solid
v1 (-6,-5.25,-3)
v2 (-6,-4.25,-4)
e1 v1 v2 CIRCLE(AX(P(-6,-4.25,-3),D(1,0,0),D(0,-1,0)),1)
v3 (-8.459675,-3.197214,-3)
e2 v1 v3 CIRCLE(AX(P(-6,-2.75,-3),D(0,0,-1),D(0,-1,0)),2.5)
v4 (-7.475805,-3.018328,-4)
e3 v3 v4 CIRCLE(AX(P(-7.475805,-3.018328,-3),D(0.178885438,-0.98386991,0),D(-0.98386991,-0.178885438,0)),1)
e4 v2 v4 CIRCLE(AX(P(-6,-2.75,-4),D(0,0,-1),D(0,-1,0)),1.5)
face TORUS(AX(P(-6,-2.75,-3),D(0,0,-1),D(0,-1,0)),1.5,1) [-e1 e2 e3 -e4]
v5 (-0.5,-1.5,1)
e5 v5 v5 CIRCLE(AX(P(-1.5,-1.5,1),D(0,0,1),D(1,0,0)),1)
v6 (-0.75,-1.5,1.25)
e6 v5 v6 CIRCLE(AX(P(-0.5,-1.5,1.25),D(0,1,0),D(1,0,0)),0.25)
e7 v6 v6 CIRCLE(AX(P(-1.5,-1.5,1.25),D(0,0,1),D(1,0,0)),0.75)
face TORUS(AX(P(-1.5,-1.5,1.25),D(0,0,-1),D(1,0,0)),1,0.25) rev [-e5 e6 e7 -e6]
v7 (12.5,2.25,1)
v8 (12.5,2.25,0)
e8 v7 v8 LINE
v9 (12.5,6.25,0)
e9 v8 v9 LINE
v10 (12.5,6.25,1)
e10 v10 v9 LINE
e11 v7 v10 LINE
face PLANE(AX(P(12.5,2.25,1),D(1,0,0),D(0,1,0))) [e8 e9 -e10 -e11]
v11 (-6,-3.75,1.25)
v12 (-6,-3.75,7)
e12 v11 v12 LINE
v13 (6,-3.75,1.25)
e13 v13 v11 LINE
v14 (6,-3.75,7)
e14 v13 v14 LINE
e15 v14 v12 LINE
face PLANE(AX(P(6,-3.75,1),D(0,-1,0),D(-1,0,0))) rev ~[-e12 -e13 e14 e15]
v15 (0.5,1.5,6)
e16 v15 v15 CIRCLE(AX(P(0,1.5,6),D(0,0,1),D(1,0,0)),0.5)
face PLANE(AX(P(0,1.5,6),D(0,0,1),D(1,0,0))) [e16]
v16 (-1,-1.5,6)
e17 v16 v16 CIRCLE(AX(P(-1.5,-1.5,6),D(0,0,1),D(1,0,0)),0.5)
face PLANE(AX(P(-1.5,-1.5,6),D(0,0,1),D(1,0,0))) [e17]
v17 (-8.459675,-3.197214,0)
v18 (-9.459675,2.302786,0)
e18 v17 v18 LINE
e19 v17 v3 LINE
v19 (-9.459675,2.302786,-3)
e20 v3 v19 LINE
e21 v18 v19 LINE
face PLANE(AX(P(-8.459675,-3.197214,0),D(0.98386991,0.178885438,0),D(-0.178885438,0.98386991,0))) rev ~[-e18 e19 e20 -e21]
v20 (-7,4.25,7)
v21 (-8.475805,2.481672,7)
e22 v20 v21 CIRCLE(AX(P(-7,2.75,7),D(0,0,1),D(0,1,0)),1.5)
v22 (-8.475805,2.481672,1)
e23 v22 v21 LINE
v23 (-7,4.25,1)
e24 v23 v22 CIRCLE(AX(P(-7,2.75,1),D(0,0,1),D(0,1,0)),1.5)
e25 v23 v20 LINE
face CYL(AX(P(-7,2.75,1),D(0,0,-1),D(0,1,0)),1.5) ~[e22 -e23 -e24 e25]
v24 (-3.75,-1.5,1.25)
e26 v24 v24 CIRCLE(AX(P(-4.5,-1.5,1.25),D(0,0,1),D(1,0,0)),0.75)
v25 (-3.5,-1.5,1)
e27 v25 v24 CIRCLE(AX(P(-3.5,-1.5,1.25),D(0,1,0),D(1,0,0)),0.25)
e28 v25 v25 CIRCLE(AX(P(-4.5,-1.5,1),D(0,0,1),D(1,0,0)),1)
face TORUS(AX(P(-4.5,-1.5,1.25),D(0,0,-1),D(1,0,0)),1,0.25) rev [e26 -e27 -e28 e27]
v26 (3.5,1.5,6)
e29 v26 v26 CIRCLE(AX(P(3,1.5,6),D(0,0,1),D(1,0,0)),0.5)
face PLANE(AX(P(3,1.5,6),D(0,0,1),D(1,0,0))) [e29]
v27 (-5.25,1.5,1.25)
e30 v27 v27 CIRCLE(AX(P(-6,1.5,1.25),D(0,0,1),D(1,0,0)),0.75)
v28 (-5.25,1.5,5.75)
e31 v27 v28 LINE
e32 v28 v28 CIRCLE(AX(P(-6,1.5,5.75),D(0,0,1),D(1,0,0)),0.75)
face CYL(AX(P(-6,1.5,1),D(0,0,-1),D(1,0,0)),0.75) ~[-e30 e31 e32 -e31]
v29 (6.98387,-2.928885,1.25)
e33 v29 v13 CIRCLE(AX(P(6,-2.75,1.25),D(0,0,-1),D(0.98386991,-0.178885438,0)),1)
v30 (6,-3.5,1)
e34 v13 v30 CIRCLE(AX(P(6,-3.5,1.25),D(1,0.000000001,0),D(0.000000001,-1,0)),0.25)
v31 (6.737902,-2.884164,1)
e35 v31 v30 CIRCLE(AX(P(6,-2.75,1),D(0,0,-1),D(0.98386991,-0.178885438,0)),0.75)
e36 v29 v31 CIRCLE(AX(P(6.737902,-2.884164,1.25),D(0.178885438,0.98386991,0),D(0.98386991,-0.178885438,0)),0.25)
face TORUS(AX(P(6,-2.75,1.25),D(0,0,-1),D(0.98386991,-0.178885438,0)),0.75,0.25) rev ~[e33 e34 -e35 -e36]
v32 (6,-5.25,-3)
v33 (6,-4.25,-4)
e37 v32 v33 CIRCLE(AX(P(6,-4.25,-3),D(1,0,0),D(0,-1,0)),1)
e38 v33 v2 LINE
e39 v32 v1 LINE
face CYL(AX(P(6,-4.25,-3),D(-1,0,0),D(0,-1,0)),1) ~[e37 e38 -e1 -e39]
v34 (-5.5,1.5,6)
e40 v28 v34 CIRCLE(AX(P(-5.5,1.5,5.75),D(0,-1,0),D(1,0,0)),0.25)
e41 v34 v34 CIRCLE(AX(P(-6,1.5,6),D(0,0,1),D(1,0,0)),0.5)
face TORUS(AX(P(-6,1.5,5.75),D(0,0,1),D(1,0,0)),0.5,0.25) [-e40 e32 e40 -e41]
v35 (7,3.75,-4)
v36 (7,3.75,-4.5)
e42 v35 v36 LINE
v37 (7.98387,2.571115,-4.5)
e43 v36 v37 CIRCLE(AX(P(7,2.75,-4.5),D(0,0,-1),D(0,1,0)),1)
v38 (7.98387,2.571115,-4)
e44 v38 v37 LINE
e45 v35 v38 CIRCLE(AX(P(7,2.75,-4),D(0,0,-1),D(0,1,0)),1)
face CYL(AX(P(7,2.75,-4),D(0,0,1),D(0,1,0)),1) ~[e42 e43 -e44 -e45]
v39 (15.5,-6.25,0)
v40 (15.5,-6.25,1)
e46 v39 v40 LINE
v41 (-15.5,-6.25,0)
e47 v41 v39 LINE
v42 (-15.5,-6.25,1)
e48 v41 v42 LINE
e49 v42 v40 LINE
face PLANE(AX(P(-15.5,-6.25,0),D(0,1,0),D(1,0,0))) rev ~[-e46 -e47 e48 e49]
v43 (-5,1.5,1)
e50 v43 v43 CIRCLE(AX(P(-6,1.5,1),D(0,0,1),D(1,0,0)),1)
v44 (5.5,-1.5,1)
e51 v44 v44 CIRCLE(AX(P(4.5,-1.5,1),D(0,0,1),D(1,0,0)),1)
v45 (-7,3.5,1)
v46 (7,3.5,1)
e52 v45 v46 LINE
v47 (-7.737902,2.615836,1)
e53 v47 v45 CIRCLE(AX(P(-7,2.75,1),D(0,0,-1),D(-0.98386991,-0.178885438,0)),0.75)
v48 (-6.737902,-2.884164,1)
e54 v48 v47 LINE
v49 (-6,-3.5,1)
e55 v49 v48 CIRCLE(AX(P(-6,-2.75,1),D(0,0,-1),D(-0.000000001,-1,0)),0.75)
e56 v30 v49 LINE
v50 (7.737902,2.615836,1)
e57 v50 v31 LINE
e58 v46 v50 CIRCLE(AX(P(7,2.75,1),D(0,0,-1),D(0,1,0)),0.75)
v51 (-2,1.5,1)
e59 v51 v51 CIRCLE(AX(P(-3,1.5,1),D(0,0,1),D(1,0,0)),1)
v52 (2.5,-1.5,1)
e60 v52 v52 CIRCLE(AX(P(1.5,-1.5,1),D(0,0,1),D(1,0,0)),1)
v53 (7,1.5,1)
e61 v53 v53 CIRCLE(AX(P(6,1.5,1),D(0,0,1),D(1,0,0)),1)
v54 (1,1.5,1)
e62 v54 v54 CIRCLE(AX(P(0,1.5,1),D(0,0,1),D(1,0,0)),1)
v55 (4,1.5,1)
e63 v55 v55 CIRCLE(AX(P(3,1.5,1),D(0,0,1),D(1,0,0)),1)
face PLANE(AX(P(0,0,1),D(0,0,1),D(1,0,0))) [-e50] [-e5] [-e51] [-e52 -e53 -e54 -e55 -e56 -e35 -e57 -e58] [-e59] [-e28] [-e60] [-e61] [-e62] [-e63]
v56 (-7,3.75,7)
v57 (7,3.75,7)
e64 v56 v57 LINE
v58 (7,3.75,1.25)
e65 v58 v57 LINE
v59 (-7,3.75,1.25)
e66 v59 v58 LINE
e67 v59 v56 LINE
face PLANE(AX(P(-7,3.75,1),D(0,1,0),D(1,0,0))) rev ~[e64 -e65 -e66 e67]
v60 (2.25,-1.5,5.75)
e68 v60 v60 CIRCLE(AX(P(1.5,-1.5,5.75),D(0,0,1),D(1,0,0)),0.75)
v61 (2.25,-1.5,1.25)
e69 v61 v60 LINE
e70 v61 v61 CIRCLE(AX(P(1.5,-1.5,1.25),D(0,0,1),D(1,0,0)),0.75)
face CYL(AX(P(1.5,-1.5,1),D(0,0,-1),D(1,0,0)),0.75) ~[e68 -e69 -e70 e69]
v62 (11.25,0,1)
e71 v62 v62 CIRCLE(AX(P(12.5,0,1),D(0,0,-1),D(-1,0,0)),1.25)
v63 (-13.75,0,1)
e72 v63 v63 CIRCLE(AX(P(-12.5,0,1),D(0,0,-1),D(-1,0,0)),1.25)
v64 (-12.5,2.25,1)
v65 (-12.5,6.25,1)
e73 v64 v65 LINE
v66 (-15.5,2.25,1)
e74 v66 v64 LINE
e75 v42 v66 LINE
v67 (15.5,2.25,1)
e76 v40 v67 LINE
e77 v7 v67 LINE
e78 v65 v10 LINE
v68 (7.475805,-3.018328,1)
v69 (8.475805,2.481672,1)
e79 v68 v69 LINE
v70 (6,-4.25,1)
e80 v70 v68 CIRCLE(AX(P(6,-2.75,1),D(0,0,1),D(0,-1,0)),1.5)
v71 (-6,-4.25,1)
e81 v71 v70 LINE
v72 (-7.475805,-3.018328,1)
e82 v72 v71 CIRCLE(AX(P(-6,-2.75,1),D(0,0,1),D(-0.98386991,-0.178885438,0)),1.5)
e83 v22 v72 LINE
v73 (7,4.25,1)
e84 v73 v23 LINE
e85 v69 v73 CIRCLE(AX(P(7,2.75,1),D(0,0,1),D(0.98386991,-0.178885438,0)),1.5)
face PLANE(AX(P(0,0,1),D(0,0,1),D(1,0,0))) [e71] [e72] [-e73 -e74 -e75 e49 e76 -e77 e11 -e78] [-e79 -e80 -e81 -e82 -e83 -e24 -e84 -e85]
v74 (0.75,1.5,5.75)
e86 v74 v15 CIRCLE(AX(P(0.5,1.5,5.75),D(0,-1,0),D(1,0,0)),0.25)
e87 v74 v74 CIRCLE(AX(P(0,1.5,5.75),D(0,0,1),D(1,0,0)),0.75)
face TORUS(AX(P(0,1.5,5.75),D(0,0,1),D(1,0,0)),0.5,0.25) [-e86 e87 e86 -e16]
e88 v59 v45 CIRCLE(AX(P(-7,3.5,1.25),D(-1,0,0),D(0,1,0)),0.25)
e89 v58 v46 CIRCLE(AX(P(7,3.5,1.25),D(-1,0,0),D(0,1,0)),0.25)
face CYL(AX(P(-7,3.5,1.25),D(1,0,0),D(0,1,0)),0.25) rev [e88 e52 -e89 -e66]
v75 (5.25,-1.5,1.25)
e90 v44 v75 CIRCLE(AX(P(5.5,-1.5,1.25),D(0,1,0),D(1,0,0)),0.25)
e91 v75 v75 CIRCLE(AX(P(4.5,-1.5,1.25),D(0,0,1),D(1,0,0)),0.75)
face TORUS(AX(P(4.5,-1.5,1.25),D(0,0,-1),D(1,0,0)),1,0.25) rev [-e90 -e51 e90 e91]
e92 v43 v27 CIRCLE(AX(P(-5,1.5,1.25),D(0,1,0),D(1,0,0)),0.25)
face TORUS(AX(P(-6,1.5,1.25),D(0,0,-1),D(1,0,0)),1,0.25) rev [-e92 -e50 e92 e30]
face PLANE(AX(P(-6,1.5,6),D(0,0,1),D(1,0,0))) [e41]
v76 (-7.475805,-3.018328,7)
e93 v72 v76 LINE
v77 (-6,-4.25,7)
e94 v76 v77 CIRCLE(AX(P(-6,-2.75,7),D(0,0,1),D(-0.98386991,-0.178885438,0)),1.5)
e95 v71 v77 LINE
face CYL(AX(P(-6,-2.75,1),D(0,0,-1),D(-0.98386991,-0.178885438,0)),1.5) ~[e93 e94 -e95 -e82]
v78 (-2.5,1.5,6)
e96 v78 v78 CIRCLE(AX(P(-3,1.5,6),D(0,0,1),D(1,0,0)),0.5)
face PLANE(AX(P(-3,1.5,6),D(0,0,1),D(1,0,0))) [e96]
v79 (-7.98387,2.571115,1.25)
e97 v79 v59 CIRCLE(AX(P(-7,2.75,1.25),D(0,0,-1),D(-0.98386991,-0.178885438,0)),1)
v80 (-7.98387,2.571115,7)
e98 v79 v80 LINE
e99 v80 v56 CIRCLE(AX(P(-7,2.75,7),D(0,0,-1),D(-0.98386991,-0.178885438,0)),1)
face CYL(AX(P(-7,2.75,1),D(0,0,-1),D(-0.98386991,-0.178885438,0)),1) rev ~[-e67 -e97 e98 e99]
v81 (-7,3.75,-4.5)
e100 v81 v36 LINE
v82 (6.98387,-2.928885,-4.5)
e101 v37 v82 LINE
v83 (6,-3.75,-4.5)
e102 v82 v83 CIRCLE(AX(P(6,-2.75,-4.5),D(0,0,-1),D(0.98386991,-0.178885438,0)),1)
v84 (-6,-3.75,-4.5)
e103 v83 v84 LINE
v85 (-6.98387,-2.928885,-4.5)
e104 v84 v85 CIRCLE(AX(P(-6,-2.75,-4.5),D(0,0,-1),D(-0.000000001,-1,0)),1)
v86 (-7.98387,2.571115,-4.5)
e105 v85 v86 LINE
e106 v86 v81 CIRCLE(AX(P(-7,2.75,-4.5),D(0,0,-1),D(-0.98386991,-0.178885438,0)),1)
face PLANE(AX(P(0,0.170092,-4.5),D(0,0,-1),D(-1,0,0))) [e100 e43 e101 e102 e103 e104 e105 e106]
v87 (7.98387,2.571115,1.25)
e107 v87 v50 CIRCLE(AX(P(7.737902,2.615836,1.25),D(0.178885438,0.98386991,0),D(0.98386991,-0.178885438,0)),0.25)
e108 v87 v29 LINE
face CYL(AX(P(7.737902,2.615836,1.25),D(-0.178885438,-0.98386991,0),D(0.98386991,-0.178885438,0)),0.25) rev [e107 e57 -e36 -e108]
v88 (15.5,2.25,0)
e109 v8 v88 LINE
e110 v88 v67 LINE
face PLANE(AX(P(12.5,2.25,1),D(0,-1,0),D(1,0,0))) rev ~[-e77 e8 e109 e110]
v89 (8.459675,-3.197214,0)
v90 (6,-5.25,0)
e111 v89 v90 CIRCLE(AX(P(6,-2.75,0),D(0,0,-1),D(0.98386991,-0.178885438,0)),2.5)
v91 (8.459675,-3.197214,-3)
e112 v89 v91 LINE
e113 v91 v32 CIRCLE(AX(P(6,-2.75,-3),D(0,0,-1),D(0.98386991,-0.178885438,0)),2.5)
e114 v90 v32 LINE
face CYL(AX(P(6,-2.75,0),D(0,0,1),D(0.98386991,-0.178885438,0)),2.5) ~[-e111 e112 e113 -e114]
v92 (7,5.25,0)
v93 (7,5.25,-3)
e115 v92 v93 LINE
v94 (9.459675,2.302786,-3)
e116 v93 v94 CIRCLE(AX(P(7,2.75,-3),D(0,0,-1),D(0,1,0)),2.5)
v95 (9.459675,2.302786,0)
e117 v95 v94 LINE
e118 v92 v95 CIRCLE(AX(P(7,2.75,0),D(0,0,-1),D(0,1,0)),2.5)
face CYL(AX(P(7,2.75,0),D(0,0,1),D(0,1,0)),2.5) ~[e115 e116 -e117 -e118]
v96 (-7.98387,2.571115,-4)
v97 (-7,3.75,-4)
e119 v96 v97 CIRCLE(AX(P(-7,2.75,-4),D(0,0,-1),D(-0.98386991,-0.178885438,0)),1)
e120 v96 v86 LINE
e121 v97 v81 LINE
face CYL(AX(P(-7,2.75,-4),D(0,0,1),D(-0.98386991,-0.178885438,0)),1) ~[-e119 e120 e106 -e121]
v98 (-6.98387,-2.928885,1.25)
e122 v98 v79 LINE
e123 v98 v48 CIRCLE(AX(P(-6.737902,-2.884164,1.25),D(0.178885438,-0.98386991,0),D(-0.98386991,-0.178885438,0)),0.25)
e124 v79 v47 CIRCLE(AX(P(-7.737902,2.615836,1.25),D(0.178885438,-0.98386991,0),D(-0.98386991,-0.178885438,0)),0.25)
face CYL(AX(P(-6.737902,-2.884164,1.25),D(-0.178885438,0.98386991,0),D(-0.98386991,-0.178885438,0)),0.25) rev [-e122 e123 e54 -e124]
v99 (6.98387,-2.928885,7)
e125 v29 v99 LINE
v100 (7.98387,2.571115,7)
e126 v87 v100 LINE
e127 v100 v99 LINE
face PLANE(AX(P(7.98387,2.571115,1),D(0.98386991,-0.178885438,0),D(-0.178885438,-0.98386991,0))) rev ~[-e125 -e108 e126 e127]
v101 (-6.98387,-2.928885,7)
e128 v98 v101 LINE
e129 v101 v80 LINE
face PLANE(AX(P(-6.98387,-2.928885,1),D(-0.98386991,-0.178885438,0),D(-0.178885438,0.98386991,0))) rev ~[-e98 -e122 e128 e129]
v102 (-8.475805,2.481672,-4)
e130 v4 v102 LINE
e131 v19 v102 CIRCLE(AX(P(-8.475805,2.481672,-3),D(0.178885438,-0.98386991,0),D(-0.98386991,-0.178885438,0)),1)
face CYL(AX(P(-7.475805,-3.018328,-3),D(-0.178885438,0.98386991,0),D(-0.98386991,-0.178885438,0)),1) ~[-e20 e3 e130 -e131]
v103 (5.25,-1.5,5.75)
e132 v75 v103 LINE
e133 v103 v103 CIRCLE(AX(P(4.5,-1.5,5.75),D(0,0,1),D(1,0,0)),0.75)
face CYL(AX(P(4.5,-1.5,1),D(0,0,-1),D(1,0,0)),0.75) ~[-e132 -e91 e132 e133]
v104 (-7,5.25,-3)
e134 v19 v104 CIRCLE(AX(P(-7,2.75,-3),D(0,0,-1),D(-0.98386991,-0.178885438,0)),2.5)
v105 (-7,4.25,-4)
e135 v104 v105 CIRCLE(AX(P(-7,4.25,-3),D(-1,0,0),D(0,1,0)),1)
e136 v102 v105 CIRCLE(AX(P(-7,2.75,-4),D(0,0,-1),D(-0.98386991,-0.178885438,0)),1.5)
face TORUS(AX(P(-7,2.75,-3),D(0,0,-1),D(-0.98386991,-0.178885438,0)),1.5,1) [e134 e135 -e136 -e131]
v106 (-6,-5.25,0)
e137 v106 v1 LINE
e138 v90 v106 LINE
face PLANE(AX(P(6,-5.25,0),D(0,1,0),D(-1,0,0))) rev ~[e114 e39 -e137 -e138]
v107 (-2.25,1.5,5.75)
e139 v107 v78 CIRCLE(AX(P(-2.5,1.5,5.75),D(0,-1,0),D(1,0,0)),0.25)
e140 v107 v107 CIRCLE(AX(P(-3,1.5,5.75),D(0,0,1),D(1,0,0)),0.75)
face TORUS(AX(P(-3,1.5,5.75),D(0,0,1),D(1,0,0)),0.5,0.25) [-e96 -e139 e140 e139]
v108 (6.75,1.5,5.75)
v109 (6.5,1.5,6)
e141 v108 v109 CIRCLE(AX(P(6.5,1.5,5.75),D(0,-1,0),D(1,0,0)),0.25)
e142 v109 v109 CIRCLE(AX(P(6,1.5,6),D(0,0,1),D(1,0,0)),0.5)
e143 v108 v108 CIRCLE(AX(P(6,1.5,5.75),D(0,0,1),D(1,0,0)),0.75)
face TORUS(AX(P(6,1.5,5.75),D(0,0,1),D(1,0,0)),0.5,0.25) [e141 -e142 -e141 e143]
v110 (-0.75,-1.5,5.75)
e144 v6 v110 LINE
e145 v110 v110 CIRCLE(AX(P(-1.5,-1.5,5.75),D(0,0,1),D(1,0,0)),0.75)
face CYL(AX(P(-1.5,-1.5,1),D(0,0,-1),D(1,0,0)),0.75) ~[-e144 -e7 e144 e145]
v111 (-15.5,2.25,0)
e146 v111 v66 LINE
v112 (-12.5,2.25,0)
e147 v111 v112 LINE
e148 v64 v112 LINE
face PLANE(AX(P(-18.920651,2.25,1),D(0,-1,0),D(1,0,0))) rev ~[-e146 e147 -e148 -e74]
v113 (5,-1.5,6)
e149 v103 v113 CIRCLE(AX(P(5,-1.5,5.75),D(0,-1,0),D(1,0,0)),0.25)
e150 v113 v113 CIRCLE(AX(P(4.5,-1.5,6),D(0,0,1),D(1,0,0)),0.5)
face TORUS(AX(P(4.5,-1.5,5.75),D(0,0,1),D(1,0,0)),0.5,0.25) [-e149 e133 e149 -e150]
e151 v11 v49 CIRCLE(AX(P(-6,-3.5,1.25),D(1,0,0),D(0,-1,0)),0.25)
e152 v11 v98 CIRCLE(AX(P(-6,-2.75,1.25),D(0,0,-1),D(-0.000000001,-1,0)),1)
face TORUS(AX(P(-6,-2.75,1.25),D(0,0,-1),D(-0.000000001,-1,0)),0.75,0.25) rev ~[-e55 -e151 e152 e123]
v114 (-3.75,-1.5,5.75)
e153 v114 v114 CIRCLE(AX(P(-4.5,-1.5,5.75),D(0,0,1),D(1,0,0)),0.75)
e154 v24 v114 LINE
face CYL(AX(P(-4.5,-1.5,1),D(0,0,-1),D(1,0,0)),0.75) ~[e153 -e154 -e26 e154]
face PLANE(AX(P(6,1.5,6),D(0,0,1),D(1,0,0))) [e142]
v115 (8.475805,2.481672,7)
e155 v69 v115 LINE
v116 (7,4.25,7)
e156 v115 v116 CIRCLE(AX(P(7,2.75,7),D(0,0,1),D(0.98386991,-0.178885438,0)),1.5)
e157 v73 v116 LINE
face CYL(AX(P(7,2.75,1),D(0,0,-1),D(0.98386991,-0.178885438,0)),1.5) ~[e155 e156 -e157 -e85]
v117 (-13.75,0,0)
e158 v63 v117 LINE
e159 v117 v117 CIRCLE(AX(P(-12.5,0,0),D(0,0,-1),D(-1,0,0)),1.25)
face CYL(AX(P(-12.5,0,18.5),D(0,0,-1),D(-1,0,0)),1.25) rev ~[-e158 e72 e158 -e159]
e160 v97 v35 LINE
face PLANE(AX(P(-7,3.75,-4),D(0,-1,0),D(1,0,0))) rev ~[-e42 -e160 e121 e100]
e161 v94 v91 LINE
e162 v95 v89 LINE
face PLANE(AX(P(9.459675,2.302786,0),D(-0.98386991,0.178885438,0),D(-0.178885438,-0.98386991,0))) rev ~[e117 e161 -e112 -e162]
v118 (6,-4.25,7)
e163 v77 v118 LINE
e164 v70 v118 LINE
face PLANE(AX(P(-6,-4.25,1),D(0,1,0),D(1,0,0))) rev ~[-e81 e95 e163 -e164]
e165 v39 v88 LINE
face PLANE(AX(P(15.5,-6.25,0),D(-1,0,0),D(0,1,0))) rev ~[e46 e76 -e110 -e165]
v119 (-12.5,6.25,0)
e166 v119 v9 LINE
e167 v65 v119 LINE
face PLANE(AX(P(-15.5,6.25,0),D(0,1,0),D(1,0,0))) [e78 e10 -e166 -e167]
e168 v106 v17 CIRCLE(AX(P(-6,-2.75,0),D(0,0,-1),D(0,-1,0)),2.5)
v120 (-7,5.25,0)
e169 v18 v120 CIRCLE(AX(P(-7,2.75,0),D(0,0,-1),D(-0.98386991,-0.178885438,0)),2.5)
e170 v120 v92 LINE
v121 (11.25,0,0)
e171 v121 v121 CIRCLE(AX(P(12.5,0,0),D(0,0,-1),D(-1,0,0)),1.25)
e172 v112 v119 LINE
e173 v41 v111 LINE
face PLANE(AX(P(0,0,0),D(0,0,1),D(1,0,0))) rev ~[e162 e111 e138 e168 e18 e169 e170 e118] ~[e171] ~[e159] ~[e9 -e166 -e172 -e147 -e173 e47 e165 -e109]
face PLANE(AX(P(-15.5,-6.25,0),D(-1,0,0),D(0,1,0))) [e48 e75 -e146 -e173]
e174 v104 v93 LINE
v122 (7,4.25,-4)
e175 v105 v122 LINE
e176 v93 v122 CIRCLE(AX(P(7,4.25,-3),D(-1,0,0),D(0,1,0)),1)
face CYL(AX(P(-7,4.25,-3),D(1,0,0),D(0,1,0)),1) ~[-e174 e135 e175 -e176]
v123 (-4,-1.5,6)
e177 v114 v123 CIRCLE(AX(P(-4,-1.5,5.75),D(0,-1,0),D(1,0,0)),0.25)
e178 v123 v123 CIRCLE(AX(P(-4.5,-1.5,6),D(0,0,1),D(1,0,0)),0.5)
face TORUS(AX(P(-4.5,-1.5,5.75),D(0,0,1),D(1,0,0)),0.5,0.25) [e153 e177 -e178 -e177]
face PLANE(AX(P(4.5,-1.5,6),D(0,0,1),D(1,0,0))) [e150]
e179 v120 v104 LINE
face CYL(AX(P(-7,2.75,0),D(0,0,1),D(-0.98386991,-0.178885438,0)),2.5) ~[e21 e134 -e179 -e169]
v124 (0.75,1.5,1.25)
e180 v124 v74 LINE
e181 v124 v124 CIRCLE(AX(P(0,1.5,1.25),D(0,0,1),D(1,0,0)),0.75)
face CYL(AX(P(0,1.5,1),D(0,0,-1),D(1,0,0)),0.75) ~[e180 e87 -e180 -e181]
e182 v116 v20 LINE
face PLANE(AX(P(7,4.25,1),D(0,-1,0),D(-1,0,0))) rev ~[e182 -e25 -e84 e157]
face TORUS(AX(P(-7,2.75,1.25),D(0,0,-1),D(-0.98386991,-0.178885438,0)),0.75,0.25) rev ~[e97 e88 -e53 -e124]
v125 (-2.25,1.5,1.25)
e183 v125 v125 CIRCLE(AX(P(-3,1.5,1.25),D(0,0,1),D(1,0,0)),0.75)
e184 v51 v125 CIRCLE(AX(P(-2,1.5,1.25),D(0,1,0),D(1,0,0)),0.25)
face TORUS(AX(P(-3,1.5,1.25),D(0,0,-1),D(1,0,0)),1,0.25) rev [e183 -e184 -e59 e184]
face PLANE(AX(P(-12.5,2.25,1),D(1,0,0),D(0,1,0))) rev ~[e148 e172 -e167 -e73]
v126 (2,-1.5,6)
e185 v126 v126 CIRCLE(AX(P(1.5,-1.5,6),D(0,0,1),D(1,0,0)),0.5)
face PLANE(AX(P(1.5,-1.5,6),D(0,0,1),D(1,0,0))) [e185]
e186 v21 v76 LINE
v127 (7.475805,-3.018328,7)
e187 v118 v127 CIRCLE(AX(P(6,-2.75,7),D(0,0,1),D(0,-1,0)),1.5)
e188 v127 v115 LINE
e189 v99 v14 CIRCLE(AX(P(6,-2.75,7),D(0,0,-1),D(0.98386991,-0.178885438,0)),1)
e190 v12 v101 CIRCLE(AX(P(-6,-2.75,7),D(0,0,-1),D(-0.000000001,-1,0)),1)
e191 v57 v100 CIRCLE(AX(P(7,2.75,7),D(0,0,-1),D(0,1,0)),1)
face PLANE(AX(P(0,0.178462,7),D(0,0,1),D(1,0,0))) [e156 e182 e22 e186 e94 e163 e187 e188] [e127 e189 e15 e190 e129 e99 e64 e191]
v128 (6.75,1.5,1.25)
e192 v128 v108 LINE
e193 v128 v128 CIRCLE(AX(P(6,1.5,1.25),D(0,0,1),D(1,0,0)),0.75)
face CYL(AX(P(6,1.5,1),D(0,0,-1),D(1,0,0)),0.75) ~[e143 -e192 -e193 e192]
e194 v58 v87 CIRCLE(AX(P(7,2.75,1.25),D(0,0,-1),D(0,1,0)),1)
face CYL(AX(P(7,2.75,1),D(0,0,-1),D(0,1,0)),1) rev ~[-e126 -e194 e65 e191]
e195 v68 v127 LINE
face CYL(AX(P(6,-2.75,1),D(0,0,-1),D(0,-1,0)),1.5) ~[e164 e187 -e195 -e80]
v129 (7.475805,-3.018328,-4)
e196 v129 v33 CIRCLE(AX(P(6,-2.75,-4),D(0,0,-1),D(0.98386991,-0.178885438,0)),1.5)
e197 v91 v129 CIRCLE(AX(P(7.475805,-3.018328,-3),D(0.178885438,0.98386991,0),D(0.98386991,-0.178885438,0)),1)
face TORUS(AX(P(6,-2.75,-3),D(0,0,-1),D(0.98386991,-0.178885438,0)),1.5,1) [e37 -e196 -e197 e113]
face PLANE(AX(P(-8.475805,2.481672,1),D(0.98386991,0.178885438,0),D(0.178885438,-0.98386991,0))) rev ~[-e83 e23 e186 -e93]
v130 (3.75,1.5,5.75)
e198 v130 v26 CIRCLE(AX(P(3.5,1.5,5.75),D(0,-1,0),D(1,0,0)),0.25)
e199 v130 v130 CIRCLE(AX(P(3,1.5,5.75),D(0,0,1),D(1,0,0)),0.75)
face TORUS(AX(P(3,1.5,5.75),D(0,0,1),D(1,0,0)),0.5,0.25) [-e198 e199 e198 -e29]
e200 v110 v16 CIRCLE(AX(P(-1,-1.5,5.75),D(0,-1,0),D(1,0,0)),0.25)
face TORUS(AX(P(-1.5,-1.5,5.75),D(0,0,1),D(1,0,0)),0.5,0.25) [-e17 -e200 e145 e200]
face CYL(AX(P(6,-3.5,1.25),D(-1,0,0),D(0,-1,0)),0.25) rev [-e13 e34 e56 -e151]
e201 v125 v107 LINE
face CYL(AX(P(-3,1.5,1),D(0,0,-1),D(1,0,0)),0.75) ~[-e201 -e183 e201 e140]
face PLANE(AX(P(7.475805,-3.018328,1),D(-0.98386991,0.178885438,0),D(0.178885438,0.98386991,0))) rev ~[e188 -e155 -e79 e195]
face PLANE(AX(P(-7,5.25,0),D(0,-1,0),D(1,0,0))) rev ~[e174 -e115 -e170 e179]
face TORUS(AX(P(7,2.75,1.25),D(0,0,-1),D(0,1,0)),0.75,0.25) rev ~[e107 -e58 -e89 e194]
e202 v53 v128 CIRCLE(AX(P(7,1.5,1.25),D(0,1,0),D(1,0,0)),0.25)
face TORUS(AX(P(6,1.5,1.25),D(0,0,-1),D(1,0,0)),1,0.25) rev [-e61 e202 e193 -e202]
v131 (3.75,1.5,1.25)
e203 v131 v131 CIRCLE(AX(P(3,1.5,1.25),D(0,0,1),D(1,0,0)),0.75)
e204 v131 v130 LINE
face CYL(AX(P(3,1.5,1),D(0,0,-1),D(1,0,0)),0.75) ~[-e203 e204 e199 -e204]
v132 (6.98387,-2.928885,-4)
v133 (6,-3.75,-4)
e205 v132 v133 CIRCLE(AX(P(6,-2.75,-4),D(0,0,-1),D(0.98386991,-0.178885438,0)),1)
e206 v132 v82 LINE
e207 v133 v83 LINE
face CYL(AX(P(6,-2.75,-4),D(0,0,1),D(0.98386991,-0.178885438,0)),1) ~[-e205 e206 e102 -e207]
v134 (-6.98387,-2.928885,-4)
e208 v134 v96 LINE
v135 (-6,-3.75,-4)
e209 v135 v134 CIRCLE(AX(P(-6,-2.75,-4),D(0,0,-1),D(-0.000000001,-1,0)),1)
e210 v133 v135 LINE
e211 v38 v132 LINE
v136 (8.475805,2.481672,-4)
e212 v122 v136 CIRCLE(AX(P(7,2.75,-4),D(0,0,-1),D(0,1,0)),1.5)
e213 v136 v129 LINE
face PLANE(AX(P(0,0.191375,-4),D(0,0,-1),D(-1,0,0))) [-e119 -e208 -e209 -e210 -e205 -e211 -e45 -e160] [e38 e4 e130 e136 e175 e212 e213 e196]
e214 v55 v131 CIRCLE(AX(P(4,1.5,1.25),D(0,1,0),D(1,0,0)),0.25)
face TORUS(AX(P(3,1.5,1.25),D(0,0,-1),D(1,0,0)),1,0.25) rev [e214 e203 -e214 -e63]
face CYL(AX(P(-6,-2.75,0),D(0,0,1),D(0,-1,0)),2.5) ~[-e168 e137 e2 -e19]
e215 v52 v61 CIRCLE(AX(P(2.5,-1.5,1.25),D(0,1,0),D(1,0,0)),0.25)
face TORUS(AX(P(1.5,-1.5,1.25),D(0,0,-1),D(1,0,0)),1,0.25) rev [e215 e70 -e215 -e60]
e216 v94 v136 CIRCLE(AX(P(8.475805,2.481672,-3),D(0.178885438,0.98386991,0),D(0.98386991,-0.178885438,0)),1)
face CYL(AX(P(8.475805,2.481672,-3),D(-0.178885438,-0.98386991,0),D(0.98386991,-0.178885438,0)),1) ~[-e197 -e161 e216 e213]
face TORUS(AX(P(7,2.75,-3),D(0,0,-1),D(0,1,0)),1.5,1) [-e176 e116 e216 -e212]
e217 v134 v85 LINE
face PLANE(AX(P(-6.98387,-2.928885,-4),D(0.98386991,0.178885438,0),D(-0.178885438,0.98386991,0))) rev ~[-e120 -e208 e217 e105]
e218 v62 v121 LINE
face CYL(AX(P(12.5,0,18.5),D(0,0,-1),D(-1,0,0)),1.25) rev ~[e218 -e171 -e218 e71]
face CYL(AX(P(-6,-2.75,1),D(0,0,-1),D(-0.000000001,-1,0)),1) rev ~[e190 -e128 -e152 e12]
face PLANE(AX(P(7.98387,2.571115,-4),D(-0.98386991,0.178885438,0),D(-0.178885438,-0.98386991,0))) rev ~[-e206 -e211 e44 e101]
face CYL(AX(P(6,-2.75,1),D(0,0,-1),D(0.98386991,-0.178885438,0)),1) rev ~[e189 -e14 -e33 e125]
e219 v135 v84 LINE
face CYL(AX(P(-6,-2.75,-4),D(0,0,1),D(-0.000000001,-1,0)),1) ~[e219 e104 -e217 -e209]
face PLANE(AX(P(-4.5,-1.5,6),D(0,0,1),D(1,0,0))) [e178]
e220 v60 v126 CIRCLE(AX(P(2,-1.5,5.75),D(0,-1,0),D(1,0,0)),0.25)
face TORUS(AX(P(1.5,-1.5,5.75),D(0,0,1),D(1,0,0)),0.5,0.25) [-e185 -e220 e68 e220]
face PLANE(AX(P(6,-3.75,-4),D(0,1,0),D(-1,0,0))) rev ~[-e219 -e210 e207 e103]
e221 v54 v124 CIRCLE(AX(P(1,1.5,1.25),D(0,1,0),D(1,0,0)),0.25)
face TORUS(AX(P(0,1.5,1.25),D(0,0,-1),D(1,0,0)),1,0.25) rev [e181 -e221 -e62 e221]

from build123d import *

# Parameters (mm, degrees)
SKETCH1_W                 = 31
SKETCH1_H                 = 12.5
EXTRUDE1_DEPTH            = 1
EXTRUDE2_DEPTH            = 6
M3X0_5_TAPPED_HOLE1_D     = 2.5
M3X0_5_TAPPED_HOLE1_DEPTH = 17.5
M3X0_5_TAPPED_HOLE1_TIP   = 0.751075774
EXTRUDE3_DEPTH            = 4
FILLET2_R                 = 1
EXTRUDE4_DEPTH            = 0.5
SKETCH10_W                = 6.420651052
SKETCH10_H                = 6.175896966
SKETCH10_W_2              = 7.637064352
SKETCH10_H_2              = 8.744155905
CUT_EXTRUDE1_DEPTH        = 5
SKETCH8_R                 = 0.75
EXTRUDE5_DEPTH            = 5
FILLET3_R                 = 0.25


with BuildPart() as part:
    # Sketch1 → Extrude1 (new body)
    with BuildSketch(Plane.XY):
        Rectangle(SKETCH1_W, SKETCH1_H)
    extrude(amount=EXTRUDE1_DEPTH)

    # Sketch2 → Extrude2 (add)
    with BuildSketch(Plane.XY.offset(1)):
        with BuildLine():
            Line((-6, -4.25), (6, -4.25))
            ThreePointArc((6, -4.25), (6.961121159, -3.901627595), (7.475804865, -3.018328157))
            Line((7.475804865, -3.018328157), (8.475804865, 2.481671843))
            ThreePointArc((8.475804865, 2.481671843), (8.151627595, 3.711121159), (7, 4.25))
            Line((7, 4.25), (-7, 4.25))
            ThreePointArc((-7, 4.25), (-8.151627595, 3.711121159), (-8.475804865, 2.481671843))
            Line((-8.475804865, 2.481671843), (-7.475804865, -3.018328157))
            ThreePointArc((-7.475804865, -3.018328157), (-6.961121159, -3.901627595), (-6, -4.25))
        make_face()
        with BuildLine():
            Line((-7, 3.75), (7, 3.75))
            ThreePointArc((7, 3.75), (7.76775173, 3.390747439), (7.98386991, 2.571114562))
            Line((7.98386991, 2.571114562), (6.98386991, -2.928885438))
            ThreePointArc((6.98386991, -2.928885438), (6.640747439, -3.51775173), (6, -3.75))
            Line((6, -3.75), (-6, -3.75))
            ThreePointArc((-6, -3.75), (-6.640747439, -3.51775173), (-6.98386991, -2.928885438))
            Line((-6.98386991, -2.928885438), (-7.98386991, 2.571114562))
            ThreePointArc((-7.98386991, 2.571114562), (-7.76775173, 3.390747439), (-7, 3.75))
        make_face(mode=Mode.SUBTRACT)
    extrude(amount=EXTRUDE2_DEPTH)

    # M3x0.5 Tapped Hole1
    with Locations(Plane(origin=(-12.5, 0, 1), x_dir=(1, 0, 0), z_dir=(0, 0, 1))):
        with Locations((0, 0), (25, 0)):
            Hole(M3X0_5_TAPPED_HOLE1_D / 2, depth=M3X0_5_TAPPED_HOLE1_DEPTH)
            with Locations((0, 0, -(M3X0_5_TAPPED_HOLE1_DEPTH + M3X0_5_TAPPED_HOLE1_TIP / 2))):  # 118° drill point
                Cone(0, M3X0_5_TAPPED_HOLE1_D / 2, M3X0_5_TAPPED_HOLE1_TIP, mode=Mode.SUBTRACT)

    # Sketch6 → Extrude3 (add)
    with BuildSketch(Plane(origin=(0, 0, 0), x_dir=(-1, 0, 0), z_dir=(0, 0, -1))):
        with BuildLine():
            Line((8.459674775, -3.197213595), (9.459674775, 2.302786405))
            ThreePointArc((9.459674775, 2.302786405), (8.919379325, 4.351868598), (7, 5.25))
            Line((7, 5.25), (-7, 5.25))
            ThreePointArc((-7, 5.25), (-8.919379325, 4.351868598), (-9.459674775, 2.302786405))
            Line((-9.459674775, 2.302786405), (-8.459674775, -3.197213595))
            ThreePointArc((-8.459674775, -3.197213595), (-7.601868598, -4.669379325), (-6, -5.25))
            Line((-6, -5.25), (6, -5.25))
            ThreePointArc((6, -5.25), (7.601868598, -4.669379325), (8.459674775, -3.197213595))
        make_face()
    extrude(amount=EXTRUDE3_DEPTH)

    # Fillet2
    fillet2_edges = [part.edges().sort_by_distance(p)[0] for p in [
        (-8.919379325, 4.351868598, -4),
        (0, 5.25, -4),
        (8.919379325, 4.351868598, -4),
        (8.959674775, -0.447213595, -4),
        (7.601868598, -4.669379325, -4),
        (0, -5.25, -4),
        (-7.601868598, -4.669379325, -4),
        (-8.959674775, -0.447213595, -4),
    ]]
    fillet(fillet2_edges, radius=FILLET2_R)

    # Sketch7 → Extrude4 (add)
    with BuildSketch(Plane(origin=(0, 0, -4), x_dir=(-1, 0, 0), z_dir=(0, 0, -1))):
        with BuildLine():
            Line((6.98386991, -2.928885438), (7.98386991, 2.571114562))
            ThreePointArc((7.98386991, 2.571114562), (7.76775173, 3.390747439), (7, 3.75))
            Line((7, 3.75), (-7, 3.75))
            ThreePointArc((-7, 3.75), (-7.76775173, 3.390747439), (-7.98386991, 2.571114562))
            Line((-7.98386991, 2.571114562), (-6.98386991, -2.928885438))
            ThreePointArc((-6.98386991, -2.928885438), (-6.640747439, -3.51775173), (-6, -3.75))
            Line((-6, -3.75), (6, -3.75))
            ThreePointArc((6, -3.75), (6.640747439, -3.51775173), (6.98386991, -2.928885438))
        make_face()
    extrude(amount=EXTRUDE4_DEPTH)

    # Sketch10 → Cut-Extrude1 (cut)
    with BuildSketch(Plane.XY.offset(1)):
        with Locations((-15.710325526, 5.337948483)):
            Rectangle(SKETCH10_W, SKETCH10_H)
        with Locations((16.318532176, 6.622077953)):
            Rectangle(SKETCH10_W_2, SKETCH10_H_2)
    extrude(amount=-CUT_EXTRUDE1_DEPTH, mode=Mode.SUBTRACT)

    # Sketch8 → Extrude5 (add)
    with BuildSketch(Plane.XY.offset(1)):
        with Locations((-6, 1.5)):
            Circle(SKETCH8_R)
        with Locations((-4.5, -1.5)):
            Circle(SKETCH8_R)
        with Locations((-3, 1.5)):
            Circle(SKETCH8_R)
        with Locations((1.5, -1.5)):
            Circle(SKETCH8_R)
        with Locations((0, 1.5)):
            Circle(SKETCH8_R)
        with Locations((-1.5, -1.5)):
            Circle(SKETCH8_R)
        with Locations((3, 1.5)):
            Circle(SKETCH8_R)
        with Locations((4.5, -1.5)):
            Circle(SKETCH8_R)
        with Locations((6, 1.5)):
            Circle(SKETCH8_R)
    extrude(amount=EXTRUDE5_DEPTH)

    # Fillet3
    fillet3_edges = [part.edges().sort_by_distance(p)[0] for p in [
        (-6.75, 1.5, 1),
        (-6.75, 1.5, 6),
        (-5.25, -1.5, 1),
        (-5.25, -1.5, 6),
        (-3.75, 1.5, 1),
        (-3.75, 1.5, 6),
        (0.75, -1.5, 1),
        (0.75, -1.5, 6),
        (-0.75, 1.5, 1),
        (-0.75, 1.5, 6),
        (-2.25, -1.5, 1),
        (-2.25, -1.5, 6),
        (2.25, 1.5, 1),
        (2.25, 1.5, 6),
        (3.75, -1.5, 1),
        (3.75, -1.5, 6),
        (5.25, 1.5, 1),
        (5.25, 1.5, 6),
        (0, 3.75, 1),
        (-7.76775173, 3.390747439, 1),
        (-7.48386991, -0.178885438, 1),
        (-6.640747439, -3.51775173, 1),
        (0, -3.75, 1),
        (6.640747439, -3.51775173, 1),
        (7.48386991, -0.178885438, 1),
        (7.76775173, 3.390747439, 1),
    ]]
    fillet(fillet3_edges, radius=FILLET3_R)


solid = part.part
